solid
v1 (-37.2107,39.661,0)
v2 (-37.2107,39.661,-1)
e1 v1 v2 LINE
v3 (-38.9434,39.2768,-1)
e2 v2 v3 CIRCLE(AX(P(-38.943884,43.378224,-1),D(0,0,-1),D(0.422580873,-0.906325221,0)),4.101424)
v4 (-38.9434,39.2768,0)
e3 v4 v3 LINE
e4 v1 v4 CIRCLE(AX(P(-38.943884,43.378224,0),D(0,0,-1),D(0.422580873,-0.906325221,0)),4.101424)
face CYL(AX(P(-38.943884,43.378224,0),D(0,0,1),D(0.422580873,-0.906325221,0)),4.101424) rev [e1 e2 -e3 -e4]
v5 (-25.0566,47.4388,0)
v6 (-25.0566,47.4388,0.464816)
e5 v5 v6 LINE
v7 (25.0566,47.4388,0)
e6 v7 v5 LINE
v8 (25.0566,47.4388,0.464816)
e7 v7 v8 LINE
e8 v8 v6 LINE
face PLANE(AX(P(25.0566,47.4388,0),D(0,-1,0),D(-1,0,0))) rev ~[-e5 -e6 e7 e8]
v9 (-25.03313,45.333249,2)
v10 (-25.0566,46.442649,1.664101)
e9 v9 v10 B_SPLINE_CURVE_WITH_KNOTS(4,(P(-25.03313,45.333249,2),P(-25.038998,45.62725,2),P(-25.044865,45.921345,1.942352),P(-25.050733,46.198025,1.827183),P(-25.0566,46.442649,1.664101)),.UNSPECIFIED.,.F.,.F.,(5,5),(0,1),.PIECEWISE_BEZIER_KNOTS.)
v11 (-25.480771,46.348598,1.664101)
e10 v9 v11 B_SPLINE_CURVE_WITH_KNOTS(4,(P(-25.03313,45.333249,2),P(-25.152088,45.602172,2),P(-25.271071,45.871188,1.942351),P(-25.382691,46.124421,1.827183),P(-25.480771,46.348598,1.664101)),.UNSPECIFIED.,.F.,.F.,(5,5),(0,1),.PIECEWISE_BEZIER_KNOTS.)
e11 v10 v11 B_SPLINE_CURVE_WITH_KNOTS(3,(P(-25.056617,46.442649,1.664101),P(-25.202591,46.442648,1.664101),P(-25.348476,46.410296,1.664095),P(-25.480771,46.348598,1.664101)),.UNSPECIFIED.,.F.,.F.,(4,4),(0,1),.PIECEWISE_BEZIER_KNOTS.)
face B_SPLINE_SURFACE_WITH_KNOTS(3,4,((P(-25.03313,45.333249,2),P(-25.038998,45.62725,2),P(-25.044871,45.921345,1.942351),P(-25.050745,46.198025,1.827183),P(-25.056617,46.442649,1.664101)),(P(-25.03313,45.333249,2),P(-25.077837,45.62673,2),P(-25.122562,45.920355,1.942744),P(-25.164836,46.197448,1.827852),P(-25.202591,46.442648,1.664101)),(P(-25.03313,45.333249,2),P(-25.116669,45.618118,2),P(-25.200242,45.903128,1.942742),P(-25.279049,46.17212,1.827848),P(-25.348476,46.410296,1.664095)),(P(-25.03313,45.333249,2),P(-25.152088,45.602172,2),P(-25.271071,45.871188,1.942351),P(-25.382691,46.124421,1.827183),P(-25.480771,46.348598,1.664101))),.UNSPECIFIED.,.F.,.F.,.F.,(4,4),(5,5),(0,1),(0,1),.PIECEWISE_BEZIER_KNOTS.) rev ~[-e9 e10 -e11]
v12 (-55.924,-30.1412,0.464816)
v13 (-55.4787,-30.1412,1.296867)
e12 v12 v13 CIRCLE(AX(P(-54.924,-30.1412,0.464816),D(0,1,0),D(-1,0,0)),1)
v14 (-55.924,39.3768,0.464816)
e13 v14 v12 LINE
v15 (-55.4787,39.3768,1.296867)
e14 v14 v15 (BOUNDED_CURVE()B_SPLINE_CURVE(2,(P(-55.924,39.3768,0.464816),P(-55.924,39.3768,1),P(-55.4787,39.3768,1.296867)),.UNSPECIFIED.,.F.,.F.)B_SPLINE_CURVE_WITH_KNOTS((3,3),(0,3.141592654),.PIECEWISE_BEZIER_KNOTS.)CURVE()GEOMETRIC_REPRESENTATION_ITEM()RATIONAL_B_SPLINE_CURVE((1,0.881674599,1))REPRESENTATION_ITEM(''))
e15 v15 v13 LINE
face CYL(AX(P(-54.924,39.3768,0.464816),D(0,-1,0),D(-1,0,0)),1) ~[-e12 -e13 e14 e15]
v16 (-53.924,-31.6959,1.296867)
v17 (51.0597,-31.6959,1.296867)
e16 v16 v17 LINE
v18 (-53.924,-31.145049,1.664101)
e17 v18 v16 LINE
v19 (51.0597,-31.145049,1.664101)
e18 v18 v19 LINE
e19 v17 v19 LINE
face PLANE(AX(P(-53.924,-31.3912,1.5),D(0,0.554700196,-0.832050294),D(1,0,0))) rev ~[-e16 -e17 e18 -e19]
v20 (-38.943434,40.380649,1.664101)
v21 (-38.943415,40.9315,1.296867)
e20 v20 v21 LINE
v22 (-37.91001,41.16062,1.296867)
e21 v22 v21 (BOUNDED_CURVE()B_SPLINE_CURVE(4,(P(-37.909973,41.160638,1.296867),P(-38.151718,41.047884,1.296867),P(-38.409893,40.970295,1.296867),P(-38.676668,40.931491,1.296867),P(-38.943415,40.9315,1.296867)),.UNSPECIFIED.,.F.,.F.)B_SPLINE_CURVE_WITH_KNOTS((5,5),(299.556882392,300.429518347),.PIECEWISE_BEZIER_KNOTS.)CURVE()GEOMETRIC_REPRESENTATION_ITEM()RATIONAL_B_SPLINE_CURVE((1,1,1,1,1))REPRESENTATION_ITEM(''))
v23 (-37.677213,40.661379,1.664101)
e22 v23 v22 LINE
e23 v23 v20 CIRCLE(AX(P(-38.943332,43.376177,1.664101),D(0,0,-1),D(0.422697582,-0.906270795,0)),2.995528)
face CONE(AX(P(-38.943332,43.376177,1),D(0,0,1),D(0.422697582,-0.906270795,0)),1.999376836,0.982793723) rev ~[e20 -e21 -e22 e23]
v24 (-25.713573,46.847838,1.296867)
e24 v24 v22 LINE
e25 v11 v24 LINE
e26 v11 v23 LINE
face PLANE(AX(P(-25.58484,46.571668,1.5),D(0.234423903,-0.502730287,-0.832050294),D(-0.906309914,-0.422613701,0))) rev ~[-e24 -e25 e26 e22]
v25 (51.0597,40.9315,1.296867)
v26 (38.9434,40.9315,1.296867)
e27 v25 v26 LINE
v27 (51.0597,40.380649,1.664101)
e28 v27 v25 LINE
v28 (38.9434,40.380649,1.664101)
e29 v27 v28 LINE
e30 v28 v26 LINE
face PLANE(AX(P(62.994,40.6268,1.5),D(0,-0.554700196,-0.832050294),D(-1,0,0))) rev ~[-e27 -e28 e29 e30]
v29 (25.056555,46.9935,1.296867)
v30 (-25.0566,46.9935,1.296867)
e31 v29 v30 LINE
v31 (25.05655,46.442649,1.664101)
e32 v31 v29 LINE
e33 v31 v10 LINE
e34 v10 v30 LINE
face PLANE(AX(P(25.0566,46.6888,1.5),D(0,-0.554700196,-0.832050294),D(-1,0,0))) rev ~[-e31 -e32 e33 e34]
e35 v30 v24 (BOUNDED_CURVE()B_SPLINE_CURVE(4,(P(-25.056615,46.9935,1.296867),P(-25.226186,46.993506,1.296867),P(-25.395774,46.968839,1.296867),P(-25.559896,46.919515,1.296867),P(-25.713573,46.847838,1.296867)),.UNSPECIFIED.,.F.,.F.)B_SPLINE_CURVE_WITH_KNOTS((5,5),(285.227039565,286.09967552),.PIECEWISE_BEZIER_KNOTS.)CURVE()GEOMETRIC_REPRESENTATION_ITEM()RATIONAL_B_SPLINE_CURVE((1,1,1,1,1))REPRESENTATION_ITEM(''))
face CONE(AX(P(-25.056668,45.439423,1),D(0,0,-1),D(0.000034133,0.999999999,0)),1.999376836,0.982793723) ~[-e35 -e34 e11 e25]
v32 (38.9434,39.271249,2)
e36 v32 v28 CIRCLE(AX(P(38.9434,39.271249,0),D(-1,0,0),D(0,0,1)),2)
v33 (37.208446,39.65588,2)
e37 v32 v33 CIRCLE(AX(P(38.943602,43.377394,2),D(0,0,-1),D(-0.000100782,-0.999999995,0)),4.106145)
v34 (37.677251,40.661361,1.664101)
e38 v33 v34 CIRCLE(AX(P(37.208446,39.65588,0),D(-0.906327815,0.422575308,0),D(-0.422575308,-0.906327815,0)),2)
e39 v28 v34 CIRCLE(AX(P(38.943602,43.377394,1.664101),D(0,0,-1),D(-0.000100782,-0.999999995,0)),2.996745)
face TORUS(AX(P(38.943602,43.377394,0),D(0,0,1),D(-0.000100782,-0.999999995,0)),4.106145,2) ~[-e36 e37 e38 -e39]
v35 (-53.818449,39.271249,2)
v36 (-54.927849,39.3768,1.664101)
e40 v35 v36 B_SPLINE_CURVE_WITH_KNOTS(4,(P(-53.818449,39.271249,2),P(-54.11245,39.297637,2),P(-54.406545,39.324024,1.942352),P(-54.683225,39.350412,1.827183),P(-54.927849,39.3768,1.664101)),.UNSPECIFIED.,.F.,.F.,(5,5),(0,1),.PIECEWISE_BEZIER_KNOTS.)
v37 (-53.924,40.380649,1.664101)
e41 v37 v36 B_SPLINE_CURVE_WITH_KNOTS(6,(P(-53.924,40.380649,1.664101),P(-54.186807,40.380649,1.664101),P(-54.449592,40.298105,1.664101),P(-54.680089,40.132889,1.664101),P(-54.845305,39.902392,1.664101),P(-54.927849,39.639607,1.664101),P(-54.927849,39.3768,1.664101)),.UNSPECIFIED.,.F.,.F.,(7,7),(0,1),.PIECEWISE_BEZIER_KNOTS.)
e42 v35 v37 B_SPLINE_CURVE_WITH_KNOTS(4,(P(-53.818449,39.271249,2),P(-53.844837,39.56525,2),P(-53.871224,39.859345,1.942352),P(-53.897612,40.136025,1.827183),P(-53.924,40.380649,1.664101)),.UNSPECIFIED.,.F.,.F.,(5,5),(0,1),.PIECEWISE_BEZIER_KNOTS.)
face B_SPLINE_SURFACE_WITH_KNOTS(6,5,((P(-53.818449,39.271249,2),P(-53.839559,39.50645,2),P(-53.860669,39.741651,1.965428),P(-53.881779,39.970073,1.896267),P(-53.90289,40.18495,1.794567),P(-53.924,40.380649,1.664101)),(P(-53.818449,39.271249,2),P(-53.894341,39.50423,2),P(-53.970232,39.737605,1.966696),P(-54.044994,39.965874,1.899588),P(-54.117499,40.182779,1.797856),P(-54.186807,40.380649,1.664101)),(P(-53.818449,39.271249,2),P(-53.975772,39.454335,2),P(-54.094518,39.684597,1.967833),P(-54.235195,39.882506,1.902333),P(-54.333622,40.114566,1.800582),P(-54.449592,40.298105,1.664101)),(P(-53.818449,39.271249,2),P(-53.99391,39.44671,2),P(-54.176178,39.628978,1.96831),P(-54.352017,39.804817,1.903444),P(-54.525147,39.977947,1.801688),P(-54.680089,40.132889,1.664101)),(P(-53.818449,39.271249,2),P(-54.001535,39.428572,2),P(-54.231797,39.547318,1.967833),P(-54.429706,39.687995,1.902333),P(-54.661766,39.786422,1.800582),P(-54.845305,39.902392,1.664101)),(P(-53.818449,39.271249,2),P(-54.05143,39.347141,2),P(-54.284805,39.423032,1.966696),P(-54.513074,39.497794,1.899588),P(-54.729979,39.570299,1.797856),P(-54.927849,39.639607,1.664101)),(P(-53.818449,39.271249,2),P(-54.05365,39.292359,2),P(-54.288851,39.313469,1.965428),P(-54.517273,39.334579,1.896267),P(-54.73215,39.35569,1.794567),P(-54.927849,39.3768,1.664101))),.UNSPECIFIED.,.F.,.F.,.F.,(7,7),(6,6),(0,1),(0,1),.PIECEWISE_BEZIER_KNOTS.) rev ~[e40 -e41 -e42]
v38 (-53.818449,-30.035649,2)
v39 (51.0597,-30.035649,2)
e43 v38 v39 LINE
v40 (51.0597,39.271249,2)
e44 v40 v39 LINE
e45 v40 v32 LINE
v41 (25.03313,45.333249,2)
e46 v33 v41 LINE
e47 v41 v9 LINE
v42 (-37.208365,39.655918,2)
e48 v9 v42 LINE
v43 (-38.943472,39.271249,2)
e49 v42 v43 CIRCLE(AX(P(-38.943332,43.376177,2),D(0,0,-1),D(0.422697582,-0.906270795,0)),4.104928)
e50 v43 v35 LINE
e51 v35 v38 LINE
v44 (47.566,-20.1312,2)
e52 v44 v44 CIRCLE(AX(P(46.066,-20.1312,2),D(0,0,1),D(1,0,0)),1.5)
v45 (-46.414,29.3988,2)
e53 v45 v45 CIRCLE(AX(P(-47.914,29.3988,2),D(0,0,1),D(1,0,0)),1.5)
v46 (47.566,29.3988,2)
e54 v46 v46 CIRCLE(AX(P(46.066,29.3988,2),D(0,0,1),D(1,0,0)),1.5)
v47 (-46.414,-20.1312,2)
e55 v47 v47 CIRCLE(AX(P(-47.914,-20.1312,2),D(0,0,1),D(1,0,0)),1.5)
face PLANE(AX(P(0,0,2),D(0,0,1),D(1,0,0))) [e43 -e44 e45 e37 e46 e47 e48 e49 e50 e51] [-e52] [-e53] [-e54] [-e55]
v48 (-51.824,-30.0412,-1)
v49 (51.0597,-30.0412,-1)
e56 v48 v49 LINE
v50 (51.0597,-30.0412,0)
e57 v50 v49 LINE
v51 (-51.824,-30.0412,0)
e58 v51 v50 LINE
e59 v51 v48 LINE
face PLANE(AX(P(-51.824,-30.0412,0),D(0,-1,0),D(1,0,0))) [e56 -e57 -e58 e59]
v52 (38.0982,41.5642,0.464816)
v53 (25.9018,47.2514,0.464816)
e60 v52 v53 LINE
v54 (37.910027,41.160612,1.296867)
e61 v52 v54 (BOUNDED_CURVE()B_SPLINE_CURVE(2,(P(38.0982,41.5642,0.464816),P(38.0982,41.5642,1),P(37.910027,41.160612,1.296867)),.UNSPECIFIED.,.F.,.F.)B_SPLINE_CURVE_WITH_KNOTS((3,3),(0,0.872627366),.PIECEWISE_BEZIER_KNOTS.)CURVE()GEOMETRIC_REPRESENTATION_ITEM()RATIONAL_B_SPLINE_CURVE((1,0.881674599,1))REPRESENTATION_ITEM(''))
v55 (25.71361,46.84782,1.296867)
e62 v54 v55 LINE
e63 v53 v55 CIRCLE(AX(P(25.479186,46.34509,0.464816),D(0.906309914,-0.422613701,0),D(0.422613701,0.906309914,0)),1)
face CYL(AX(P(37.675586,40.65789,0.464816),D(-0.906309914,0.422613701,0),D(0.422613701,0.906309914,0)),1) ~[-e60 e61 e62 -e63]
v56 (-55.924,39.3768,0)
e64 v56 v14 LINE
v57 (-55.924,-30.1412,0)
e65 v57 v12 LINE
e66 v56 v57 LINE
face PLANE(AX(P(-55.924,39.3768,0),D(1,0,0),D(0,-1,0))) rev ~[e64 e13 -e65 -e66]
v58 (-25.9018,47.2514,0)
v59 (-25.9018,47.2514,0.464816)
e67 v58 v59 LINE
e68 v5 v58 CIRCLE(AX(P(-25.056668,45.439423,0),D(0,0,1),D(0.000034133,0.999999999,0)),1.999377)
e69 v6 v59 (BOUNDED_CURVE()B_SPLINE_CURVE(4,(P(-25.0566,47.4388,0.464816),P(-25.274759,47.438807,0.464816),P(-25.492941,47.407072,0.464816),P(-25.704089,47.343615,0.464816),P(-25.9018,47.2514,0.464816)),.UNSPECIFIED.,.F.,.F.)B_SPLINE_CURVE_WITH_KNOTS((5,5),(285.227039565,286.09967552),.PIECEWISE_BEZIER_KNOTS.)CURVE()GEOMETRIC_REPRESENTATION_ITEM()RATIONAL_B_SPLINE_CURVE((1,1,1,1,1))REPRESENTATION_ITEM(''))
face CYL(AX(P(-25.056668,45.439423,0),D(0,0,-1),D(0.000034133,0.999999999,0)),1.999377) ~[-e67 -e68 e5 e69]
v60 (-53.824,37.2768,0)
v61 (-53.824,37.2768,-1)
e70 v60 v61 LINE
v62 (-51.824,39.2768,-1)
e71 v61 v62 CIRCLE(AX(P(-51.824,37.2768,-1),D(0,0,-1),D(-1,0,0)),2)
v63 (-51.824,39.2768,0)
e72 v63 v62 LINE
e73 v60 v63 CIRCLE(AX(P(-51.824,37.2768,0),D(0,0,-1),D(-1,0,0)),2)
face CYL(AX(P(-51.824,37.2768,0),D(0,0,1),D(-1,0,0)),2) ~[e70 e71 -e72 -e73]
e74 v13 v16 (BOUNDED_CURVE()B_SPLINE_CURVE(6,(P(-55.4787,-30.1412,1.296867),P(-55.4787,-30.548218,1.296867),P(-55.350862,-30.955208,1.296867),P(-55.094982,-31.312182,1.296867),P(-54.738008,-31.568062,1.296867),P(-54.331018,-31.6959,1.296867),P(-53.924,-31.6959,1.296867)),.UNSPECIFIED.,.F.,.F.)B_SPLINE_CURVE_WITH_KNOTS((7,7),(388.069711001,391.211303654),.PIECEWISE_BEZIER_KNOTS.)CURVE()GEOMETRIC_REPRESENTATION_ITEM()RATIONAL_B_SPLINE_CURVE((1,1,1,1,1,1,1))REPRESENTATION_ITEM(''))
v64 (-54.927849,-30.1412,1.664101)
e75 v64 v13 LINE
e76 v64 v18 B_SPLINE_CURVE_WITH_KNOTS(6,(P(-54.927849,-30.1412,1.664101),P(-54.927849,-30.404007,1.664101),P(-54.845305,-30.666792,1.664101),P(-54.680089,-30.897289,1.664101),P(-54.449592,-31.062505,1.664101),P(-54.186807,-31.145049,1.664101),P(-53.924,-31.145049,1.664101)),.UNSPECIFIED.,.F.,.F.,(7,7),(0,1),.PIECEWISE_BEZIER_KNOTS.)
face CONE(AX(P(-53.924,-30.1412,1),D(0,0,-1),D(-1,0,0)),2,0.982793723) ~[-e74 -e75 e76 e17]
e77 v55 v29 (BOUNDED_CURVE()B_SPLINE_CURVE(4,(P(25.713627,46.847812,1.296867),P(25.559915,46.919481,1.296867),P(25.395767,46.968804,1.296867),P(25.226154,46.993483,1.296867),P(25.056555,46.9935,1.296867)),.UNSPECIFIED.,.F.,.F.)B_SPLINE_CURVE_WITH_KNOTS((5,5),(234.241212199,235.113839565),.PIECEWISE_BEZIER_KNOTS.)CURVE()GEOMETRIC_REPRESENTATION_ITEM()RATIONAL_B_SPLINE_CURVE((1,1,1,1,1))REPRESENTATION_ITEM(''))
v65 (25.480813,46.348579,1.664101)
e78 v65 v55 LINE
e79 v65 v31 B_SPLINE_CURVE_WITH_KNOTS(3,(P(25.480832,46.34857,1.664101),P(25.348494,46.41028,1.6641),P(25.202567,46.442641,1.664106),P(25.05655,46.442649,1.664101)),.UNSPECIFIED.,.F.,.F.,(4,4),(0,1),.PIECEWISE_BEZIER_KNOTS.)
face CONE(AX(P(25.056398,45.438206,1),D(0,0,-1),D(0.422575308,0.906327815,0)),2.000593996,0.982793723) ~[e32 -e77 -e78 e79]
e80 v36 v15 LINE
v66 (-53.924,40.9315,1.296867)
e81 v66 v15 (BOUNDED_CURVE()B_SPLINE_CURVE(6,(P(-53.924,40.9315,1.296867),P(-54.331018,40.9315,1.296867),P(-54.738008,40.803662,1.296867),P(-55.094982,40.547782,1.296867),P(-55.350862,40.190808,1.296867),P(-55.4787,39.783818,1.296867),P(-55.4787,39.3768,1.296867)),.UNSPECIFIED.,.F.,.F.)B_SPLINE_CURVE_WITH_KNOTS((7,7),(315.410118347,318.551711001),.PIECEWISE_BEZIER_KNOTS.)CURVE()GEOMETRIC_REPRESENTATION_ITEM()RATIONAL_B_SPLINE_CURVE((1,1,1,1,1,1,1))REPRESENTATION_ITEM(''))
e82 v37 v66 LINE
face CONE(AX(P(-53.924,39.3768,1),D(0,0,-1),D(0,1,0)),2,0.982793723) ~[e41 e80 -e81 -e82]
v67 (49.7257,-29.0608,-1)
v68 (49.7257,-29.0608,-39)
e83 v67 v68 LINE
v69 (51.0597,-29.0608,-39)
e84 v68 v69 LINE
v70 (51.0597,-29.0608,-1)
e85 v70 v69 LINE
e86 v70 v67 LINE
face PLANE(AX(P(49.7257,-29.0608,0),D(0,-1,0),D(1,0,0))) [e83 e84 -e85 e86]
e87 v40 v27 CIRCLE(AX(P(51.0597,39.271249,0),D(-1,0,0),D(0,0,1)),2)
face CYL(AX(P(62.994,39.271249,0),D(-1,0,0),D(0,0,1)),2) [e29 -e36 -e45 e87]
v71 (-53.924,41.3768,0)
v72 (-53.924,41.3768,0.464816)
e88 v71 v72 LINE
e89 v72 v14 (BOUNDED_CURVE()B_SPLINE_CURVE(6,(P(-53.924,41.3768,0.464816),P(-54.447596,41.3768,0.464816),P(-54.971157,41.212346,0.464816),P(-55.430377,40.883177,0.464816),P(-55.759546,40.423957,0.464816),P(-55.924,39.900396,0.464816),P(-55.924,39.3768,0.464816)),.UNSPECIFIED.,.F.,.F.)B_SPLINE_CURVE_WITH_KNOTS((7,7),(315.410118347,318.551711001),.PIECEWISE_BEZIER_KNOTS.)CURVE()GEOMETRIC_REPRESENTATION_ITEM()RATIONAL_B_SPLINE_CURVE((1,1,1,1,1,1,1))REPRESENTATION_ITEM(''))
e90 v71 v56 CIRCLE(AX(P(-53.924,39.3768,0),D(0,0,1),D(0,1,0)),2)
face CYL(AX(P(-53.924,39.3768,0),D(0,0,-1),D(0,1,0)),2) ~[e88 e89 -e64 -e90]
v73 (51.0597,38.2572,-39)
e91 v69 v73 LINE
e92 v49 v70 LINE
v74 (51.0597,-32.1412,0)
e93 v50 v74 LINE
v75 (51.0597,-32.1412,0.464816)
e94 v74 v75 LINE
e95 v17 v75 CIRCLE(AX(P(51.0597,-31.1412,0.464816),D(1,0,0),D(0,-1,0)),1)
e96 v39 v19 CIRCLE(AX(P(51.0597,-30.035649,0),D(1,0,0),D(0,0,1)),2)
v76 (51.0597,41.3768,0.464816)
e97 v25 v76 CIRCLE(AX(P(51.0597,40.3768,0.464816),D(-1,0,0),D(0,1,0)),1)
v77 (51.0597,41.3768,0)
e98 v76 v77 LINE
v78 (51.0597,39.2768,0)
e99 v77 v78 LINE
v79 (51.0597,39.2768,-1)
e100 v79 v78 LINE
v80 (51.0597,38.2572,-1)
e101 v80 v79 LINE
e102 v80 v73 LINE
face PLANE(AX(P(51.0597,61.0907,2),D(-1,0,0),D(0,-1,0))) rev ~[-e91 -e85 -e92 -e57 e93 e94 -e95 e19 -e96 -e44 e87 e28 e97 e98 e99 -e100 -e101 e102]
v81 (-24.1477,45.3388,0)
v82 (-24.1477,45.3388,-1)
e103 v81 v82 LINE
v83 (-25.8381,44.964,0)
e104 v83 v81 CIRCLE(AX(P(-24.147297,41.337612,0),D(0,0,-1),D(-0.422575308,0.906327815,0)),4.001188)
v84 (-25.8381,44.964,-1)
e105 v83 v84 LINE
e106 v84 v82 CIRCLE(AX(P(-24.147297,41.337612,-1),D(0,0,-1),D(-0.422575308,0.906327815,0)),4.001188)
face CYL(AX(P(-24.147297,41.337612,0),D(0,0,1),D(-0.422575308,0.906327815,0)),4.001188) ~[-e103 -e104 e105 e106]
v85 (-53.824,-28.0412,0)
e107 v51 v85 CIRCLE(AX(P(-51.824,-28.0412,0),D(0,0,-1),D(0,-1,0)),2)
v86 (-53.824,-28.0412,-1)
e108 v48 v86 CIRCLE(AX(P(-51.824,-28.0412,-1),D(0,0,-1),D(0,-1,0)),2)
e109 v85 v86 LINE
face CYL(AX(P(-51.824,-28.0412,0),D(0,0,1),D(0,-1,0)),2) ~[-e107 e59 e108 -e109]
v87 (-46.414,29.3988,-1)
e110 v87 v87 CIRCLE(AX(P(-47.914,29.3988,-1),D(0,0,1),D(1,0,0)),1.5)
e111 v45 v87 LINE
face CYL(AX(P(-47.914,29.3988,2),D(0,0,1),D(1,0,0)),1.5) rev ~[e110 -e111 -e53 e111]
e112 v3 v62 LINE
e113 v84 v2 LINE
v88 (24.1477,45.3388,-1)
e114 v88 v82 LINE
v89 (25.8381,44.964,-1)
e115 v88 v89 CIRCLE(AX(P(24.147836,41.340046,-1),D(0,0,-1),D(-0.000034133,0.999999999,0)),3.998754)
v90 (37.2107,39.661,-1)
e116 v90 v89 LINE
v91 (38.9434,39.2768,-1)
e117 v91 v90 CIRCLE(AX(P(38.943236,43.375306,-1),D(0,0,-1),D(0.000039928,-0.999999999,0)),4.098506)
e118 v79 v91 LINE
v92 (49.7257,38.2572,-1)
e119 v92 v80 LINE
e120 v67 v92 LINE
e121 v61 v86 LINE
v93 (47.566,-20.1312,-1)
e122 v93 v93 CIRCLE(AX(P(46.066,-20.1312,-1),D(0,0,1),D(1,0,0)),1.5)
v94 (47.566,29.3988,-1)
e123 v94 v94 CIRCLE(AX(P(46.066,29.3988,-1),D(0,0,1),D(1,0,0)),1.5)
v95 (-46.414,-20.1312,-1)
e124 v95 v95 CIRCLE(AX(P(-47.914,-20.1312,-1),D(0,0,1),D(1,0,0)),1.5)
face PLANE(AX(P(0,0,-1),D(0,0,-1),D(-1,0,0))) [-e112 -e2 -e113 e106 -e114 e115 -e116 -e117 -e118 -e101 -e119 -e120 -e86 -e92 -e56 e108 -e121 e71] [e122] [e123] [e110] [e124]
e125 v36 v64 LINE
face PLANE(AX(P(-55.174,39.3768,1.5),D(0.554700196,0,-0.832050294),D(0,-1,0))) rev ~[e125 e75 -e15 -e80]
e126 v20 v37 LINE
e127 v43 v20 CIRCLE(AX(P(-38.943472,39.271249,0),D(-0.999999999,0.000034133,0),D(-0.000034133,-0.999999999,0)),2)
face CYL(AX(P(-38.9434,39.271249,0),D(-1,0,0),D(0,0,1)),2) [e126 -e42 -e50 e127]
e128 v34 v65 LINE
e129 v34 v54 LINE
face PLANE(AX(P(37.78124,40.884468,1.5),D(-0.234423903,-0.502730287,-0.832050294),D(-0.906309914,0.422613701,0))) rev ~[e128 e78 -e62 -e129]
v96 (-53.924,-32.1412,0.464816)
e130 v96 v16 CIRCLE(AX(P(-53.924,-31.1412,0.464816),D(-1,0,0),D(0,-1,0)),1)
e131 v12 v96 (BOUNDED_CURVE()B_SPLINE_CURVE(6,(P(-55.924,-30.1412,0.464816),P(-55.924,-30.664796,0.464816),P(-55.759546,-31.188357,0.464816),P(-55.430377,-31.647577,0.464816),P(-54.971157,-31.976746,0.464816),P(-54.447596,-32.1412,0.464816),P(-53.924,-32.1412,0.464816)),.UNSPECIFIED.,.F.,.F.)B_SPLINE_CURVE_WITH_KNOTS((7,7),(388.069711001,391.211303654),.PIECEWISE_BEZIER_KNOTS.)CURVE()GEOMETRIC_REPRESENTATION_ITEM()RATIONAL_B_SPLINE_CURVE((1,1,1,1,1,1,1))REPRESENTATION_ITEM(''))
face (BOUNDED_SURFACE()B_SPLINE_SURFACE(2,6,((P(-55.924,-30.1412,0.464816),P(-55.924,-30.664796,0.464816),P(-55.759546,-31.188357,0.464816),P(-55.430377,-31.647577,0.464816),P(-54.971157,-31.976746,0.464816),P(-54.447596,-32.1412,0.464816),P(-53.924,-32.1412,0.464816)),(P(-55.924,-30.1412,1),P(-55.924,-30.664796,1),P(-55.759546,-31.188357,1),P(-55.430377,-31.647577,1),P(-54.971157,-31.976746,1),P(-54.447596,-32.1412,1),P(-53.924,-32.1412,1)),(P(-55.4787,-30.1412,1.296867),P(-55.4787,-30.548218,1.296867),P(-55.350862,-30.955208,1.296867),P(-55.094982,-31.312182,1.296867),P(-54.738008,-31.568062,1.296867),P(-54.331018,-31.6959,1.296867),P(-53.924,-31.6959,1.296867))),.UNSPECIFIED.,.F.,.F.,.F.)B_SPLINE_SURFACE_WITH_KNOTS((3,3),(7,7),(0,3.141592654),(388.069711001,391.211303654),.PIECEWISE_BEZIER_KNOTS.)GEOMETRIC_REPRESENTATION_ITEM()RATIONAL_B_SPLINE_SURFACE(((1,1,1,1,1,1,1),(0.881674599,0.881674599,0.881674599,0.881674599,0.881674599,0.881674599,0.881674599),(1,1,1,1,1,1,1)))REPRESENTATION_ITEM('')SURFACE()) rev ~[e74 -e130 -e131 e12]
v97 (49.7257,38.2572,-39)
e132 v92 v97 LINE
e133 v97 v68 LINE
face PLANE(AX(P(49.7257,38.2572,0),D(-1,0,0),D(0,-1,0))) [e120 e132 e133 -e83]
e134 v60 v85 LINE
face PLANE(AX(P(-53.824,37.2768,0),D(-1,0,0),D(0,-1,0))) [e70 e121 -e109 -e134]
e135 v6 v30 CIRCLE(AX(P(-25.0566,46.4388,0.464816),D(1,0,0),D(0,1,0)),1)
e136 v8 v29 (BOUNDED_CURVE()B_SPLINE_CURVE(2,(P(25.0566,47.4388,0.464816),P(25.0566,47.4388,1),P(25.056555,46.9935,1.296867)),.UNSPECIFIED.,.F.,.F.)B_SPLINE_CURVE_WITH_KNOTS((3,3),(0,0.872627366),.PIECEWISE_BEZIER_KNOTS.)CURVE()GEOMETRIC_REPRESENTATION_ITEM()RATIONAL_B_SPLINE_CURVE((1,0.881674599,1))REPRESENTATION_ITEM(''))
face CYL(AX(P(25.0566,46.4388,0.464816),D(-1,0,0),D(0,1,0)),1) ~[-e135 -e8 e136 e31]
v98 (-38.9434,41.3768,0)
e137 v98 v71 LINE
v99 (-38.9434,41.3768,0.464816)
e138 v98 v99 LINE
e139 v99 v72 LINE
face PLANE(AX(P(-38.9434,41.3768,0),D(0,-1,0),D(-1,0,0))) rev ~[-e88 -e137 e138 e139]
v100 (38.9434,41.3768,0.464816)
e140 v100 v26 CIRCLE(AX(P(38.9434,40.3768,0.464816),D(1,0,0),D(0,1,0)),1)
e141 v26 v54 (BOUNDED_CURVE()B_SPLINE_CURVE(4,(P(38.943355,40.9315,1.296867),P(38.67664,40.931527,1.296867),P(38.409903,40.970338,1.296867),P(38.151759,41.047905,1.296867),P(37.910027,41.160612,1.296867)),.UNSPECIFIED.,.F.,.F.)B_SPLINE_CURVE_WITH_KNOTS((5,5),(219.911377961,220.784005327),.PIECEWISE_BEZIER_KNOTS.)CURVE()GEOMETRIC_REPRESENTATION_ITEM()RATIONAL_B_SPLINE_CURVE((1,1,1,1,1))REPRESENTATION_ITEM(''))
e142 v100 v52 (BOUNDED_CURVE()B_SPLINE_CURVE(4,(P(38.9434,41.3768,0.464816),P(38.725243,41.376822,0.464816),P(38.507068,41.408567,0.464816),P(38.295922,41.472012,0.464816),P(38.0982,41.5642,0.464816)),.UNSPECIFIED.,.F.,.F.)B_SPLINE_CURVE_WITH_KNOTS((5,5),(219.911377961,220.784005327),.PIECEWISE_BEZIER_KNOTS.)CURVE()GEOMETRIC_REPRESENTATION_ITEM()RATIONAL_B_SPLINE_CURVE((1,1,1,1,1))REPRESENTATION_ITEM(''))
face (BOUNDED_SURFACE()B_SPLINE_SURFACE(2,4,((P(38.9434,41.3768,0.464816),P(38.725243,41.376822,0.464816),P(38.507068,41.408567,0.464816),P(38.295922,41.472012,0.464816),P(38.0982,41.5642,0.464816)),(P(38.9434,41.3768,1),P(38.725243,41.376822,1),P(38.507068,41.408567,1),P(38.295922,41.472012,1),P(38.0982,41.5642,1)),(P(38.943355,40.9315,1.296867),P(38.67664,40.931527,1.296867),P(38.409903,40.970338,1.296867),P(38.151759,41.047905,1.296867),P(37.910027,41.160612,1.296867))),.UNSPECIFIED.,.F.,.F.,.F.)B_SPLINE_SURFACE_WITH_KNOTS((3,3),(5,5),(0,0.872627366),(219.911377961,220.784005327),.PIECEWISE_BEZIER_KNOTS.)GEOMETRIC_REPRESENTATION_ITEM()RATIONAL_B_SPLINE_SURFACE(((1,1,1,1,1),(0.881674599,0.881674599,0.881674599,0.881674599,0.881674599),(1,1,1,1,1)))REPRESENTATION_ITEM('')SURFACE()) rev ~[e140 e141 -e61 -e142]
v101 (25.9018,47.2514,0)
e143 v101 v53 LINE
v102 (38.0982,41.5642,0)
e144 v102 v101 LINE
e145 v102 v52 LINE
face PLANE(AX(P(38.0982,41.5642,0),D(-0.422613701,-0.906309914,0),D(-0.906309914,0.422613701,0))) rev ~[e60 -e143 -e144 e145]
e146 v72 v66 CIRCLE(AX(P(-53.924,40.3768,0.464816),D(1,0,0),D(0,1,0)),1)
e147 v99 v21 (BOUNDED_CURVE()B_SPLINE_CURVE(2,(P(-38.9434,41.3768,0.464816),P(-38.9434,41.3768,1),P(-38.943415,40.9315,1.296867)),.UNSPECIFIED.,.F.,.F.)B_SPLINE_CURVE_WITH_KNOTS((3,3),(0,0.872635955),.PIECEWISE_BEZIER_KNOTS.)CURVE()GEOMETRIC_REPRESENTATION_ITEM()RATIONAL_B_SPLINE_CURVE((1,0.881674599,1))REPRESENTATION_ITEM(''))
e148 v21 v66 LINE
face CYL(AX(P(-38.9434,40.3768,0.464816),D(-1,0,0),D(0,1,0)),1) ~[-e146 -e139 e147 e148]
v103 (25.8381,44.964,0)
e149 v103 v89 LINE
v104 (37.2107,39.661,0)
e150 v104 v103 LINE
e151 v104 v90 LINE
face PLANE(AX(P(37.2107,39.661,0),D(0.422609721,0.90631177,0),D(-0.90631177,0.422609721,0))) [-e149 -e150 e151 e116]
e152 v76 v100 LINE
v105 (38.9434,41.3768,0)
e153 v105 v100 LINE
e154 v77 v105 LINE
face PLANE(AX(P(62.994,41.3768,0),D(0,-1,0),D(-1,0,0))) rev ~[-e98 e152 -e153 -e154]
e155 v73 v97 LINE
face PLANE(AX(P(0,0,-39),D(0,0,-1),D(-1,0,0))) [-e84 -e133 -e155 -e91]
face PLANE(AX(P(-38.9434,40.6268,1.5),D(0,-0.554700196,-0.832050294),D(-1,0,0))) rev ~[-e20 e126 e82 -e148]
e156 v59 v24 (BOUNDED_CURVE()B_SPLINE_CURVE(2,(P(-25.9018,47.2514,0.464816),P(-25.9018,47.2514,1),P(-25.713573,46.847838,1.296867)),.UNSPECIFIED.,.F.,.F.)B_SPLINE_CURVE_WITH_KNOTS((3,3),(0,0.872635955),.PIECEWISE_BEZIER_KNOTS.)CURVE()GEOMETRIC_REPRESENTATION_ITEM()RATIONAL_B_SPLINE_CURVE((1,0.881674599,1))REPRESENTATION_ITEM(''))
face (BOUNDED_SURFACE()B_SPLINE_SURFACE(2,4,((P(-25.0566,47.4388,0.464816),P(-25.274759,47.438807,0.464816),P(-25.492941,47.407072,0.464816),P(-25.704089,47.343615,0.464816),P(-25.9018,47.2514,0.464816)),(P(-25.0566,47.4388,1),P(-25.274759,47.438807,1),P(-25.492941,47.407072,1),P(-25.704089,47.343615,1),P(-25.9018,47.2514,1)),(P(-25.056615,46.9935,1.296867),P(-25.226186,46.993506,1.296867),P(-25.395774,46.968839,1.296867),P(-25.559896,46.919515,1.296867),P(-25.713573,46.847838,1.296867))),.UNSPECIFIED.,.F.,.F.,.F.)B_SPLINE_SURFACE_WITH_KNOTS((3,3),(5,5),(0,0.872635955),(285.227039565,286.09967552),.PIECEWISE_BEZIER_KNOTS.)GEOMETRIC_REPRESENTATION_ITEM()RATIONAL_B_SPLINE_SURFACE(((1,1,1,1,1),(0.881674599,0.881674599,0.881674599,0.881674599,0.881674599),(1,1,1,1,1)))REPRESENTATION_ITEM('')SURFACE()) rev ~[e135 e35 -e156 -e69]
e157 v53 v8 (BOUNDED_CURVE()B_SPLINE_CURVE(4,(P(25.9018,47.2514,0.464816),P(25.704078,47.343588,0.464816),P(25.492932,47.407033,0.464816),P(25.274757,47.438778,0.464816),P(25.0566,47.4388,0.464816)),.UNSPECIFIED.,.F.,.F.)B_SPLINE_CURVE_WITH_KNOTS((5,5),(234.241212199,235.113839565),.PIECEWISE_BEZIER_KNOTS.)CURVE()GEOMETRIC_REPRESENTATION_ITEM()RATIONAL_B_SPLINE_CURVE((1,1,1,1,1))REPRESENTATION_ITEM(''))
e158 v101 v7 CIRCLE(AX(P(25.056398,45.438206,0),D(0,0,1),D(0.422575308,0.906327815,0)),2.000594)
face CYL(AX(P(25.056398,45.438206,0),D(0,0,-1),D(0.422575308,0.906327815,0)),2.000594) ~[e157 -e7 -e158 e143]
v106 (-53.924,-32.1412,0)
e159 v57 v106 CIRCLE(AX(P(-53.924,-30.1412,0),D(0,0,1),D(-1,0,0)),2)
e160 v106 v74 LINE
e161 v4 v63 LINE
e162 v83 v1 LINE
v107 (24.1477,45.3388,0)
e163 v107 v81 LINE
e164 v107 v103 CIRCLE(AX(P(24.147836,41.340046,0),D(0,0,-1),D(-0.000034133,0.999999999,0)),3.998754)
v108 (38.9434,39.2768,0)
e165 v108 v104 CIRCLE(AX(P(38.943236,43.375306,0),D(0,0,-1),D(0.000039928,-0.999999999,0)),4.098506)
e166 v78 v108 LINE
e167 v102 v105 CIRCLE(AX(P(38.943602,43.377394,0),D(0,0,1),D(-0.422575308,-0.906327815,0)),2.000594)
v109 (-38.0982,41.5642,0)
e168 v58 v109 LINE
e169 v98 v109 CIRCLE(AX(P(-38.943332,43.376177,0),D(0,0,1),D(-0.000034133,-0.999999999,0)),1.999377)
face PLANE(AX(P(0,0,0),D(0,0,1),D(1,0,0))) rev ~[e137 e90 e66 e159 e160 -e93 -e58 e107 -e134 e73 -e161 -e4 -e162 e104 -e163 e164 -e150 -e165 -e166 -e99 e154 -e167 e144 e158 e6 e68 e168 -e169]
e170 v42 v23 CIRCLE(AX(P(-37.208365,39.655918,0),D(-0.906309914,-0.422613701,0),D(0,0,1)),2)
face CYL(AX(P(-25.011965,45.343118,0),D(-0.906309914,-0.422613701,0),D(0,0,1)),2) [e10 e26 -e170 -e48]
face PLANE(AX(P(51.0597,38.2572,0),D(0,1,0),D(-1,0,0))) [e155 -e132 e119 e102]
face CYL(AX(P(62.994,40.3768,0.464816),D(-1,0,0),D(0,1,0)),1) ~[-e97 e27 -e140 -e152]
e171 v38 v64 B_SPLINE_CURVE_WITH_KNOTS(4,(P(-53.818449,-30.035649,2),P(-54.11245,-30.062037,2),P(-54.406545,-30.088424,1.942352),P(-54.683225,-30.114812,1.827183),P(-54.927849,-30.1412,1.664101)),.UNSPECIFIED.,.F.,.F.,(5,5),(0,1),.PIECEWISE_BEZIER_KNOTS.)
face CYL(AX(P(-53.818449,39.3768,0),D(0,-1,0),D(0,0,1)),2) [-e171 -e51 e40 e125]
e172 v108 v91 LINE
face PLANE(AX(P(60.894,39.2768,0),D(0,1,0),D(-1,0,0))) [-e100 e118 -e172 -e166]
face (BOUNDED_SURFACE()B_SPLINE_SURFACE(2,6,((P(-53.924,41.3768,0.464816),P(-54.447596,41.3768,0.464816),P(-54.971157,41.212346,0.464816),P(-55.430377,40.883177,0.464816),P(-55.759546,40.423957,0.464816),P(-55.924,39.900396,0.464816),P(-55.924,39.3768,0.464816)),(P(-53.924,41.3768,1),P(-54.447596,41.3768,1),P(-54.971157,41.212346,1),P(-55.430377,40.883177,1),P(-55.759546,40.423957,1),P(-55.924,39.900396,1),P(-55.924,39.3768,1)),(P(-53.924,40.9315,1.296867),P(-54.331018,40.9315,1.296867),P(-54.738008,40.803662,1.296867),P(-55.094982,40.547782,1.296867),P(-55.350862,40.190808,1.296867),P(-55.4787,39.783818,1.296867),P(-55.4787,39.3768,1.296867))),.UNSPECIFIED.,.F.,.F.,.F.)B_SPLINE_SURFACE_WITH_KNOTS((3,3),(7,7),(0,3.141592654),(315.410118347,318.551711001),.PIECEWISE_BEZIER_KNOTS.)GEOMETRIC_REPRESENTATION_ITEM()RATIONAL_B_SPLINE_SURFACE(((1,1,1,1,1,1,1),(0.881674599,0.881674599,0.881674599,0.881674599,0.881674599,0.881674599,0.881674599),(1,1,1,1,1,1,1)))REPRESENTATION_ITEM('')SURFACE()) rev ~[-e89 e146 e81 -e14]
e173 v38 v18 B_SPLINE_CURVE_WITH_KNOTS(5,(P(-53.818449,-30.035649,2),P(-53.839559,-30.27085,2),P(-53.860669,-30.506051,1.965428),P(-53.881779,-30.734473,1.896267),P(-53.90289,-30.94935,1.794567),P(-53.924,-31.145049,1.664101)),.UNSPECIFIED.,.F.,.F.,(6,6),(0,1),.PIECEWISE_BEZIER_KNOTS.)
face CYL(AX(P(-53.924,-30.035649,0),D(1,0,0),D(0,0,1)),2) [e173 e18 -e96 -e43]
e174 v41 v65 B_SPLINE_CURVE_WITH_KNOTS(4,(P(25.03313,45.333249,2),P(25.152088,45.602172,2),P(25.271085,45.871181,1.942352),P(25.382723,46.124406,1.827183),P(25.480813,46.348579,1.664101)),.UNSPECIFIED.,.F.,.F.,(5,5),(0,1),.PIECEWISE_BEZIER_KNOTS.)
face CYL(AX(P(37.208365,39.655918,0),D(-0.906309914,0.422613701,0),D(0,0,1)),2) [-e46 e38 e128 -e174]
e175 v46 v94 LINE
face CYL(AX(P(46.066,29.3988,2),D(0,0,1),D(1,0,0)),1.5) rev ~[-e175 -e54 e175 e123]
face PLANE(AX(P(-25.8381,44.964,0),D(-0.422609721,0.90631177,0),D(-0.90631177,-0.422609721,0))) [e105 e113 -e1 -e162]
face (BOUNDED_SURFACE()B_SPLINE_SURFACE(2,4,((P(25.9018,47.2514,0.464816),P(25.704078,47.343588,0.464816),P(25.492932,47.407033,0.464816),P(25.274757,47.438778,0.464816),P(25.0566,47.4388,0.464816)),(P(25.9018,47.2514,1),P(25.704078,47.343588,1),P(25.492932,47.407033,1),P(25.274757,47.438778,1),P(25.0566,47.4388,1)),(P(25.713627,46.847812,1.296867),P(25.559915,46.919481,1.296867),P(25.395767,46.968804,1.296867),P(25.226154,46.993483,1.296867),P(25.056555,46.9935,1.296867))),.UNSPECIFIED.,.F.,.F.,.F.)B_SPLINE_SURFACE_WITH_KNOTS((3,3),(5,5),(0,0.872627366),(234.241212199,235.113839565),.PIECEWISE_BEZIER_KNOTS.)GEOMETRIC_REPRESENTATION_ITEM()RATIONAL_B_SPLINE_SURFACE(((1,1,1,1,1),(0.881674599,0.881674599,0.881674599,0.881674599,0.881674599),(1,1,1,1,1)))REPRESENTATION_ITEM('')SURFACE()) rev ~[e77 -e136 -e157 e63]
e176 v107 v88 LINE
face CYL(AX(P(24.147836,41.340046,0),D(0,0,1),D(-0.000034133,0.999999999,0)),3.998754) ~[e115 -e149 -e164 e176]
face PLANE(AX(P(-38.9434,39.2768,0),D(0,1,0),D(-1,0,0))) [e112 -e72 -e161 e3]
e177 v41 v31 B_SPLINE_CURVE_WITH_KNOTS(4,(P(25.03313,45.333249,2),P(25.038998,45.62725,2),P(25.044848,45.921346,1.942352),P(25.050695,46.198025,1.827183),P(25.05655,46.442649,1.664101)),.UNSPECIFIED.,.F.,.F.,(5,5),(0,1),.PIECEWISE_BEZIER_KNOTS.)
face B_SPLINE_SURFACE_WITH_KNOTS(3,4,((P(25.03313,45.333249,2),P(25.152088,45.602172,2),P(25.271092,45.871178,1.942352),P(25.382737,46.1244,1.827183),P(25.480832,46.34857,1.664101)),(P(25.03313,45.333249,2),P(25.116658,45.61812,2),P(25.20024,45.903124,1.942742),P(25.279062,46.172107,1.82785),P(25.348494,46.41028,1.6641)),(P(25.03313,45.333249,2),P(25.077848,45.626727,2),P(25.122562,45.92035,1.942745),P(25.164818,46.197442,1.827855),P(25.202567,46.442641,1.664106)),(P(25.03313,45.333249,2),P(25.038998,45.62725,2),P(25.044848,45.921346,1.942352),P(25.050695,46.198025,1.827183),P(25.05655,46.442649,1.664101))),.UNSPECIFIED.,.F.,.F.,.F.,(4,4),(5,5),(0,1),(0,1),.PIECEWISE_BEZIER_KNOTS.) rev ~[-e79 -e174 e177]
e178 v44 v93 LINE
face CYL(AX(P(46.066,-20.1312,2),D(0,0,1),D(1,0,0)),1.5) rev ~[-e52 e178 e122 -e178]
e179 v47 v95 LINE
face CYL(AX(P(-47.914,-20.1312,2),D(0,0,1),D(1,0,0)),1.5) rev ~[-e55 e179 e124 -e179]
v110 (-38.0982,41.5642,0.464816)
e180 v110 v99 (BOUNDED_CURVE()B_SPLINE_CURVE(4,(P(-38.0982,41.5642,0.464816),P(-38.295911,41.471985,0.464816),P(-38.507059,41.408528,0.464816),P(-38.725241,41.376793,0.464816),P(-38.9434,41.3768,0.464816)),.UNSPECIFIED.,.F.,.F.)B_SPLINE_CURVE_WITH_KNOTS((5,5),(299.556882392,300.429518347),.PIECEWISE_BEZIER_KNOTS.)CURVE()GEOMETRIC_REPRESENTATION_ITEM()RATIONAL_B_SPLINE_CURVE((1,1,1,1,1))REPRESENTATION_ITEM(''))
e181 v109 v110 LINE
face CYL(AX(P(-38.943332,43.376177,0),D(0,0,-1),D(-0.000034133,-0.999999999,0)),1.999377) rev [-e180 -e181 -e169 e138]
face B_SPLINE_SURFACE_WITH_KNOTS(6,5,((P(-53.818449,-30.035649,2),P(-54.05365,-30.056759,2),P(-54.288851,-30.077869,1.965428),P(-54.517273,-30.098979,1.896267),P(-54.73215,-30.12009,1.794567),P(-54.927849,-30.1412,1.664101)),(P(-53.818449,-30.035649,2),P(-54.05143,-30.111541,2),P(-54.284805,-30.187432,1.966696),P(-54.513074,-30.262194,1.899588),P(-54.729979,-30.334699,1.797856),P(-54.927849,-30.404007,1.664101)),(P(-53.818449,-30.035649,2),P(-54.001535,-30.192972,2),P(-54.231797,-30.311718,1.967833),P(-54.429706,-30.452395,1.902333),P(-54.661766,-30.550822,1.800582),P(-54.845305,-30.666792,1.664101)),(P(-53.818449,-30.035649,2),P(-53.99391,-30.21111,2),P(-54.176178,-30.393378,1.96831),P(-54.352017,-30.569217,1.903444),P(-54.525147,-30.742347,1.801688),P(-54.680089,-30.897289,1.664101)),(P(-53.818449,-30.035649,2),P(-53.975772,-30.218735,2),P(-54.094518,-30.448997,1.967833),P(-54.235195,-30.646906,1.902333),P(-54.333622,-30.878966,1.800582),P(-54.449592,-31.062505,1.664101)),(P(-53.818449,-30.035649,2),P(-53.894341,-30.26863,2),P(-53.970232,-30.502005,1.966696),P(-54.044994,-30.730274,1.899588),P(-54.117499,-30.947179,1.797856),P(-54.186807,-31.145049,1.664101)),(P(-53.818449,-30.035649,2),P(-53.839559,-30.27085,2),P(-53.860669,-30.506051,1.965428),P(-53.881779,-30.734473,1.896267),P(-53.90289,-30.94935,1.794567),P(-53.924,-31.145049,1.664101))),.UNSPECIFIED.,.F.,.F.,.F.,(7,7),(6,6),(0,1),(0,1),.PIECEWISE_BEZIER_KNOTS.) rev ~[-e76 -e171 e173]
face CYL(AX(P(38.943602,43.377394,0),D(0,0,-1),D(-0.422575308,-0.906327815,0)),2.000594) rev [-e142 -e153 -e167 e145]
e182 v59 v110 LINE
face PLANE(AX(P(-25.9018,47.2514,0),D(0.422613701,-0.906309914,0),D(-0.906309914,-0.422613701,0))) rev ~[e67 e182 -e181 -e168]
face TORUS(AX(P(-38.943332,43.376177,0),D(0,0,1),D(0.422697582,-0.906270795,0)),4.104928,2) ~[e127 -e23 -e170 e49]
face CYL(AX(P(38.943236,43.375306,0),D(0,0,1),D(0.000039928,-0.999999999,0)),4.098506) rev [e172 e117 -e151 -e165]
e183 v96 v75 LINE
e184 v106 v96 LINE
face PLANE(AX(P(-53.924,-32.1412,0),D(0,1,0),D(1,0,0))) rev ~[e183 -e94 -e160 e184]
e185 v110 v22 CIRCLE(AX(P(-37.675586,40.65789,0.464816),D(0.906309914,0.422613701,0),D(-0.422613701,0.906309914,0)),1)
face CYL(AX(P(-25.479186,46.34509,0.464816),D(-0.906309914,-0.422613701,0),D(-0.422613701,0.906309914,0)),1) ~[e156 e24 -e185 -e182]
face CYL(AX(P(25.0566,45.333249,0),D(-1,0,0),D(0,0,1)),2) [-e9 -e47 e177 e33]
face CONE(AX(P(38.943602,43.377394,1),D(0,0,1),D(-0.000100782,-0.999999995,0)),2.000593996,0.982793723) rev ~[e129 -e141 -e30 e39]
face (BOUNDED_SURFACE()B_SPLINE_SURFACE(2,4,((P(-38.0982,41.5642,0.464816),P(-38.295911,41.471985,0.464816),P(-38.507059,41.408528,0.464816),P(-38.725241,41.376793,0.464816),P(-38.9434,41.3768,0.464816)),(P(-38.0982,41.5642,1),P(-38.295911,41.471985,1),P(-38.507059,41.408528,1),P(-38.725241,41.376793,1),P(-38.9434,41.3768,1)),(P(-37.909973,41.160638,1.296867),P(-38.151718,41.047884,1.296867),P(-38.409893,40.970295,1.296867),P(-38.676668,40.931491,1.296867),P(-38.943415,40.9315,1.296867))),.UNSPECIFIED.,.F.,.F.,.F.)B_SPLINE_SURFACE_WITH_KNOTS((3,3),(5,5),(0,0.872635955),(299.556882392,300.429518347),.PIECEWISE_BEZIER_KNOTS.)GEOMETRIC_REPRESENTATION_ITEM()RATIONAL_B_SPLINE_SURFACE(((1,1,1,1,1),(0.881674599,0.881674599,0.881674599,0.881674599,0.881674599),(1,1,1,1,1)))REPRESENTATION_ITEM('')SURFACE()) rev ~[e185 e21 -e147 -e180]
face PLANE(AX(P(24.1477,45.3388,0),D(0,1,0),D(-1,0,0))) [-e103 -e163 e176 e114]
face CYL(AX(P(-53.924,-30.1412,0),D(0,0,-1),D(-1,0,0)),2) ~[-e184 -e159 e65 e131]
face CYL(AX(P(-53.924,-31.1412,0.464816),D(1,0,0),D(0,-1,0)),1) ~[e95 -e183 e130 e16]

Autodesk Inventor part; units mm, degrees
ref_plane "YZ Plane" through (0, 0, 0) normal (1, 0, 0) x (0, 1, 0)
ref_plane "XZ Plane" through (0, 0, 0) normal (0, 1, 0) x (-1, 0, 0)
ref_plane "XY Plane" through (0, 0, 0) normal (0, 0, 1) x (1, 0, 0)
sketch "Sketch1" plane through (0, 0, 0) normal (0, 0, 1) x (1, 0, 0)
  line L0 (25.0566, 47.4388) -> (-25.0566, 47.4388)
  line L1 (-25.9018, 47.2514) -> (-38.0982, 41.5642)
  line L2 (-38.9434, 41.3768) -> (-53.924, 41.3768)
  line L3 (-55.924, 39.3768) -> (-55.924, -30.1412)
  line L4 (-53.924, -32.1412) -> (62.994, -32.1412)
  line L5 (64.994, -30.1412) -> (64.994, 39.3768)
  line L6 (62.994, 41.3768) -> (38.9434, 41.3768)
  line L7 (38.0982, 41.5642) -> (25.9018, 47.2514)
  line L8 (0, 0) -> (0, 61.2972) construction
  arc A0 (64.994, 39.3768) -> (62.994, 41.3768) centre (62.994, 39.3768) ccw
  arc A1 (62.994, -32.1412) -> (64.994, -30.1412) centre (62.994, -30.1412) ccw
  arc A2 (-55.924, -30.1412) -> (-53.924, -32.1412) centre (-53.924, -30.1412) ccw
  arc A3 (-53.924, 41.3768) -> (-55.924, 39.3768) centre (-53.924, 39.3768) ccw
  arc A4 (-38.9434, 41.3768) -> (-38.0982, 41.5642) centre (-38.9434, 43.3768) ccw
  arc A5 (-25.0566, 47.4388) -> (-25.9018, 47.2514) centre (-25.0566, 45.4388) ccw
  arc A6 (25.9018, 47.2514) -> (25.0566, 47.4388) centre (25.0566, 45.4388) ccw
  arc A7 (38.0982, 41.5642) -> (38.9434, 41.3768) centre (38.9434, 43.3768) ccw
  point P0 (25.5, 47.4388)
  point P1 (-25.5, 47.4388)
  point P2 (-38.5, 41.3768)
  point P3 (-55.924, 41.3768)
  point P4 (-55.924, -32.1412)
  point P5 (64.994, 41.3768)
  point P6 (38.5, 41.3768)
  point P7 (0, 47.4388)
  dimension "d48" = 51
  dimension "d50" = 155
  dimension "d51" = 155
  dimension "d52" = 13
  dimension "d53" = 17.424
  dimension "d54" = 26.494
  dimension "d55" = 73.518
  dimension "d56" = 13
  dimension "d57" = 2
extrude "Extrusion1" add sketch "Sketch1" along normal blind 2
chamfer "Chamfer1" distance 1.5 distance2 1 16 edges at (50.9687, 41.3768, 2) (38.5105, 41.4242, 2) (32, 44.4078, 2) (25.4895, 47.3914, 2) (0, 47.4388, 2) (-25.4895, 47.3914, 2) (-32, 44.4078, 2) (-38.5105, 41.4242, 2) (-46.4337, 41.3768, 2) (-55.3382, 40.791, 2) (-55.924, 4.6178, 2) (-55.3382, -31.5554, 2) (4.535, -32.1412, 2) (64.4082, -31.5554, 2) (64.994, 4.6178, 2) (64.4082, 40.791, 2) measured on face at (11.3755, -5.6145, 2)
fillet "Fillet1" radius 2 16 edges at (-54.2776, 39.7304, 2) (-46.4337, 39.8768, 2) (-38.1859, 39.9598, 2) (-31.3661, 43.0484, 2) (-25.1648, 45.927, 2) (0, 45.9388, 2) (25.1648, 45.927, 2) (31.3661, 43.0484, 2) (38.1859, 39.9598, 2) (50.9687, 39.8768, 2) (63.3476, 39.7304, 2) (63.494, 4.6178, 2) (63.3476, -30.4947, 2) (4.535, -30.6412, 2) (-54.2776, -30.4947, 2) (-54.424, 4.6178, 2)
fillet "Fillet2" radius 1 16 edges at (-55.3382, -31.5554, 1) (4.535, -32.1412, 1) (64.4082, -31.5554, 1) (64.994, 4.6178, 1) (64.4082, 40.791, 1) (50.9687, 41.3768, 1) (38.5105, 41.4242, 1) (32, 44.4078, 1) (25.4895, 47.3914, 1) (0, 47.4388, 1) (-25.4895, 47.3914, 1) (-32, 44.4078, 1) (-38.5105, 41.4242, 1) (-46.4337, 41.3768, 1) (-55.3382, 40.791, 1) (-55.924, 4.6178, 1)
feature "Lip1" [suppressed]
sketch "Sketch8" plane through (0, 0, 0) normal (0, 0, -1) x (-1, 0, 0)
  line L0 (-64.994, 39.3768) -> (-64.994, -30.1412) projected
  arc A0 (-64.994, -30.1412) -> (-62.994, -32.1412) centre (-62.994, -30.1412) ccw projected
  line L1 (-62.994, -32.1412) -> (53.924, -32.1412) projected
  arc A1 (53.924, -32.1412) -> (55.924, -30.1412) centre (53.924, -30.1412) ccw projected
  line L2 (55.924, -30.1412) -> (55.924, 39.3768) projected
  arc A2 (55.924, 39.3768) -> (53.924, 41.3768) centre (53.924, 39.3768) ccw projected
  line L3 (53.924, 41.3768) -> (38.9434, 41.3768) projected
  arc A3 (38.0982, 41.5642) -> (38.9434, 41.3768) centre (38.9434, 43.3768) ccw projected
  line L4 (38.0982, 41.5642) -> (25.9018, 47.2514) projected
  arc A4 (25.9018, 47.2514) -> (25.0566, 47.4388) centre (25.0566, 45.4388) ccw projected
  line L5 (25.0566, 47.4388) -> (-25.0566, 47.4388) projected
  arc A5 (-25.0566, 47.4388) -> (-25.9018, 47.2514) centre (-25.0566, 45.4388) ccw projected
  line L6 (-25.9018, 47.2514) -> (-38.0982, 41.5642) projected
  arc A6 (-38.9434, 41.3768) -> (-38.0982, 41.5642) centre (-38.9434, 43.3768) ccw projected
  line L7 (-38.9434, 41.3768) -> (-62.994, 41.3768) projected
  arc A7 (-62.994, 41.3768) -> (-64.994, 39.3768) centre (-62.994, 39.3768) ccw projected
  line L8 (-60.894, 39.2768) -> (-38.9434, 39.2768)
  arc A8 (-38.9434, 39.2768) -> (-37.2107, 39.661) centre (-38.9434, 43.3768) ccw
  line L9 (-37.2107, 39.661) -> (-25.8381, 44.964)
  line L10 (-24.1477, 45.3388) -> (24.1477, 45.3388)
  line L11 (25.8381, 44.964) -> (37.2107, 39.661)
  arc A9 (37.2107, 39.661) -> (38.9434, 39.2768) centre (38.9434, 43.3768) ccw
  line L12 (38.9434, 39.2768) -> (51.824, 39.2768)
  line L13 (53.824, 37.2768) -> (53.824, -28.0412)
  line L14 (51.824, -30.0412) -> (-60.894, -30.0412)
  line L15 (-62.894, -28.0412) -> (-62.894, 37.2768)
  arc A10 (-60.894, 39.2768) -> (-62.894, 37.2768) centre (-60.894, 37.2768) ccw
  arc A11 (-62.894, -28.0412) -> (-60.894, -30.0412) centre (-60.894, -28.0412) ccw
  arc A12 (51.824, -30.0412) -> (53.824, -28.0412) centre (51.824, -28.0412) ccw
  arc A13 (53.824, 37.2768) -> (51.824, 39.2768) centre (51.824, 37.2768) ccw
  arc A14 (-24.1477, 45.3388) -> (-25.8381, 44.964) centre (-24.1477, 41.3388) ccw
  arc A15 (25.8381, 44.964) -> (24.1477, 45.3388) centre (24.1477, 41.3388) ccw
  point P0 (0, 0)
  dimension "d62" = 2.1
  dimension "d63" = 2
  dimension "d64" = 4
extrude "Extrusion7" add sketch "Sketch8" along normal blind 1 contours L8 A8 L9 A14 L10 A15 L11 A9 L12 A13 L13 A12 L14 A11 L15 A10
sketch "Sketch4" plane through (0, 0, 2) normal (0, 0, 1) x (1, 0, 0)
  line L0 (92.6097, 61.0907) -> (51.0597, 61.0907)
  line L1 (51.0597, 61.0907) -> (51.0597, -62.6292)
  line L2 (51.0597, -62.6292) -> (92.6097, -62.6292)
  line L3 (92.6097, -62.6292) -> (92.6097, 61.0907)
  line L4 (64.5487, 39.3768) -> (64.5487, -30.1412) projected
  point P0 (0, 0)
  dimension "d21" = 123.7199
  dimension "d22" = 41.55
  dimension "d58" = 13.489
extrude "Extrusion3" cut sketch "Sketch4" against normal blind 10
sketch "Sketch7" plane through (0, 0, 0) normal (0, 0, -1) x (-1, 0, 0)
  line L0 (-51.0597, 38.2572) -> (-49.7257, 38.2572)
  line L1 (-49.7257, 38.2572) -> (-49.7257, -29.0608)
  line L2 (-49.7257, -29.0608) -> (-51.0597, -29.0608)
  line L3 (-51.0597, -29.0608) -> (-51.0597, 38.2572)
  line L4 (-51.0597, -30.0412) -> (-51.0597, -32.1412) projected
  line L5 (53.924, -30.8108) -> (-51.0597, -30.8108) projected
  line L6 (-51.0597, 42.7072) -> (-38.8527, 42.7072) projected
  point P0 (0, 0)
  point P1 (-51.0597, -28.8108)
  point P2 (-51.0597, 40.7072)
  point P3 (-32.4217, 42.6092)
  dimension "d35" = 1.334
  dimension "d59" = 1.75
  dimension "d60" = 4.45
  dimension "d61" = 67.318
extrude "Extrusion6" add sketch "Sketch7" along normal blind 39
sketch "Sketch9" plane through (0, 0, 2) normal (0, 0, 1) x (1, 0, 0)
  circle A0 centre (-47.914, 29.3988) radius 1.5 projected
  circle A1 centre (-47.914, -20.1312) radius 1.5 projected
  circle A2 centre (46.066, 29.3988) radius 1.5 projected
  circle A3 centre (46.066, -20.1312) radius 1.5 projected
  point P0 (0, 0)
extrude "Extrusion8" cut sketch "Sketch9" against normal blind 10
properties part number "Simple3DPrintBackplate01" material "Aluminum 6061 Black Anodized"
